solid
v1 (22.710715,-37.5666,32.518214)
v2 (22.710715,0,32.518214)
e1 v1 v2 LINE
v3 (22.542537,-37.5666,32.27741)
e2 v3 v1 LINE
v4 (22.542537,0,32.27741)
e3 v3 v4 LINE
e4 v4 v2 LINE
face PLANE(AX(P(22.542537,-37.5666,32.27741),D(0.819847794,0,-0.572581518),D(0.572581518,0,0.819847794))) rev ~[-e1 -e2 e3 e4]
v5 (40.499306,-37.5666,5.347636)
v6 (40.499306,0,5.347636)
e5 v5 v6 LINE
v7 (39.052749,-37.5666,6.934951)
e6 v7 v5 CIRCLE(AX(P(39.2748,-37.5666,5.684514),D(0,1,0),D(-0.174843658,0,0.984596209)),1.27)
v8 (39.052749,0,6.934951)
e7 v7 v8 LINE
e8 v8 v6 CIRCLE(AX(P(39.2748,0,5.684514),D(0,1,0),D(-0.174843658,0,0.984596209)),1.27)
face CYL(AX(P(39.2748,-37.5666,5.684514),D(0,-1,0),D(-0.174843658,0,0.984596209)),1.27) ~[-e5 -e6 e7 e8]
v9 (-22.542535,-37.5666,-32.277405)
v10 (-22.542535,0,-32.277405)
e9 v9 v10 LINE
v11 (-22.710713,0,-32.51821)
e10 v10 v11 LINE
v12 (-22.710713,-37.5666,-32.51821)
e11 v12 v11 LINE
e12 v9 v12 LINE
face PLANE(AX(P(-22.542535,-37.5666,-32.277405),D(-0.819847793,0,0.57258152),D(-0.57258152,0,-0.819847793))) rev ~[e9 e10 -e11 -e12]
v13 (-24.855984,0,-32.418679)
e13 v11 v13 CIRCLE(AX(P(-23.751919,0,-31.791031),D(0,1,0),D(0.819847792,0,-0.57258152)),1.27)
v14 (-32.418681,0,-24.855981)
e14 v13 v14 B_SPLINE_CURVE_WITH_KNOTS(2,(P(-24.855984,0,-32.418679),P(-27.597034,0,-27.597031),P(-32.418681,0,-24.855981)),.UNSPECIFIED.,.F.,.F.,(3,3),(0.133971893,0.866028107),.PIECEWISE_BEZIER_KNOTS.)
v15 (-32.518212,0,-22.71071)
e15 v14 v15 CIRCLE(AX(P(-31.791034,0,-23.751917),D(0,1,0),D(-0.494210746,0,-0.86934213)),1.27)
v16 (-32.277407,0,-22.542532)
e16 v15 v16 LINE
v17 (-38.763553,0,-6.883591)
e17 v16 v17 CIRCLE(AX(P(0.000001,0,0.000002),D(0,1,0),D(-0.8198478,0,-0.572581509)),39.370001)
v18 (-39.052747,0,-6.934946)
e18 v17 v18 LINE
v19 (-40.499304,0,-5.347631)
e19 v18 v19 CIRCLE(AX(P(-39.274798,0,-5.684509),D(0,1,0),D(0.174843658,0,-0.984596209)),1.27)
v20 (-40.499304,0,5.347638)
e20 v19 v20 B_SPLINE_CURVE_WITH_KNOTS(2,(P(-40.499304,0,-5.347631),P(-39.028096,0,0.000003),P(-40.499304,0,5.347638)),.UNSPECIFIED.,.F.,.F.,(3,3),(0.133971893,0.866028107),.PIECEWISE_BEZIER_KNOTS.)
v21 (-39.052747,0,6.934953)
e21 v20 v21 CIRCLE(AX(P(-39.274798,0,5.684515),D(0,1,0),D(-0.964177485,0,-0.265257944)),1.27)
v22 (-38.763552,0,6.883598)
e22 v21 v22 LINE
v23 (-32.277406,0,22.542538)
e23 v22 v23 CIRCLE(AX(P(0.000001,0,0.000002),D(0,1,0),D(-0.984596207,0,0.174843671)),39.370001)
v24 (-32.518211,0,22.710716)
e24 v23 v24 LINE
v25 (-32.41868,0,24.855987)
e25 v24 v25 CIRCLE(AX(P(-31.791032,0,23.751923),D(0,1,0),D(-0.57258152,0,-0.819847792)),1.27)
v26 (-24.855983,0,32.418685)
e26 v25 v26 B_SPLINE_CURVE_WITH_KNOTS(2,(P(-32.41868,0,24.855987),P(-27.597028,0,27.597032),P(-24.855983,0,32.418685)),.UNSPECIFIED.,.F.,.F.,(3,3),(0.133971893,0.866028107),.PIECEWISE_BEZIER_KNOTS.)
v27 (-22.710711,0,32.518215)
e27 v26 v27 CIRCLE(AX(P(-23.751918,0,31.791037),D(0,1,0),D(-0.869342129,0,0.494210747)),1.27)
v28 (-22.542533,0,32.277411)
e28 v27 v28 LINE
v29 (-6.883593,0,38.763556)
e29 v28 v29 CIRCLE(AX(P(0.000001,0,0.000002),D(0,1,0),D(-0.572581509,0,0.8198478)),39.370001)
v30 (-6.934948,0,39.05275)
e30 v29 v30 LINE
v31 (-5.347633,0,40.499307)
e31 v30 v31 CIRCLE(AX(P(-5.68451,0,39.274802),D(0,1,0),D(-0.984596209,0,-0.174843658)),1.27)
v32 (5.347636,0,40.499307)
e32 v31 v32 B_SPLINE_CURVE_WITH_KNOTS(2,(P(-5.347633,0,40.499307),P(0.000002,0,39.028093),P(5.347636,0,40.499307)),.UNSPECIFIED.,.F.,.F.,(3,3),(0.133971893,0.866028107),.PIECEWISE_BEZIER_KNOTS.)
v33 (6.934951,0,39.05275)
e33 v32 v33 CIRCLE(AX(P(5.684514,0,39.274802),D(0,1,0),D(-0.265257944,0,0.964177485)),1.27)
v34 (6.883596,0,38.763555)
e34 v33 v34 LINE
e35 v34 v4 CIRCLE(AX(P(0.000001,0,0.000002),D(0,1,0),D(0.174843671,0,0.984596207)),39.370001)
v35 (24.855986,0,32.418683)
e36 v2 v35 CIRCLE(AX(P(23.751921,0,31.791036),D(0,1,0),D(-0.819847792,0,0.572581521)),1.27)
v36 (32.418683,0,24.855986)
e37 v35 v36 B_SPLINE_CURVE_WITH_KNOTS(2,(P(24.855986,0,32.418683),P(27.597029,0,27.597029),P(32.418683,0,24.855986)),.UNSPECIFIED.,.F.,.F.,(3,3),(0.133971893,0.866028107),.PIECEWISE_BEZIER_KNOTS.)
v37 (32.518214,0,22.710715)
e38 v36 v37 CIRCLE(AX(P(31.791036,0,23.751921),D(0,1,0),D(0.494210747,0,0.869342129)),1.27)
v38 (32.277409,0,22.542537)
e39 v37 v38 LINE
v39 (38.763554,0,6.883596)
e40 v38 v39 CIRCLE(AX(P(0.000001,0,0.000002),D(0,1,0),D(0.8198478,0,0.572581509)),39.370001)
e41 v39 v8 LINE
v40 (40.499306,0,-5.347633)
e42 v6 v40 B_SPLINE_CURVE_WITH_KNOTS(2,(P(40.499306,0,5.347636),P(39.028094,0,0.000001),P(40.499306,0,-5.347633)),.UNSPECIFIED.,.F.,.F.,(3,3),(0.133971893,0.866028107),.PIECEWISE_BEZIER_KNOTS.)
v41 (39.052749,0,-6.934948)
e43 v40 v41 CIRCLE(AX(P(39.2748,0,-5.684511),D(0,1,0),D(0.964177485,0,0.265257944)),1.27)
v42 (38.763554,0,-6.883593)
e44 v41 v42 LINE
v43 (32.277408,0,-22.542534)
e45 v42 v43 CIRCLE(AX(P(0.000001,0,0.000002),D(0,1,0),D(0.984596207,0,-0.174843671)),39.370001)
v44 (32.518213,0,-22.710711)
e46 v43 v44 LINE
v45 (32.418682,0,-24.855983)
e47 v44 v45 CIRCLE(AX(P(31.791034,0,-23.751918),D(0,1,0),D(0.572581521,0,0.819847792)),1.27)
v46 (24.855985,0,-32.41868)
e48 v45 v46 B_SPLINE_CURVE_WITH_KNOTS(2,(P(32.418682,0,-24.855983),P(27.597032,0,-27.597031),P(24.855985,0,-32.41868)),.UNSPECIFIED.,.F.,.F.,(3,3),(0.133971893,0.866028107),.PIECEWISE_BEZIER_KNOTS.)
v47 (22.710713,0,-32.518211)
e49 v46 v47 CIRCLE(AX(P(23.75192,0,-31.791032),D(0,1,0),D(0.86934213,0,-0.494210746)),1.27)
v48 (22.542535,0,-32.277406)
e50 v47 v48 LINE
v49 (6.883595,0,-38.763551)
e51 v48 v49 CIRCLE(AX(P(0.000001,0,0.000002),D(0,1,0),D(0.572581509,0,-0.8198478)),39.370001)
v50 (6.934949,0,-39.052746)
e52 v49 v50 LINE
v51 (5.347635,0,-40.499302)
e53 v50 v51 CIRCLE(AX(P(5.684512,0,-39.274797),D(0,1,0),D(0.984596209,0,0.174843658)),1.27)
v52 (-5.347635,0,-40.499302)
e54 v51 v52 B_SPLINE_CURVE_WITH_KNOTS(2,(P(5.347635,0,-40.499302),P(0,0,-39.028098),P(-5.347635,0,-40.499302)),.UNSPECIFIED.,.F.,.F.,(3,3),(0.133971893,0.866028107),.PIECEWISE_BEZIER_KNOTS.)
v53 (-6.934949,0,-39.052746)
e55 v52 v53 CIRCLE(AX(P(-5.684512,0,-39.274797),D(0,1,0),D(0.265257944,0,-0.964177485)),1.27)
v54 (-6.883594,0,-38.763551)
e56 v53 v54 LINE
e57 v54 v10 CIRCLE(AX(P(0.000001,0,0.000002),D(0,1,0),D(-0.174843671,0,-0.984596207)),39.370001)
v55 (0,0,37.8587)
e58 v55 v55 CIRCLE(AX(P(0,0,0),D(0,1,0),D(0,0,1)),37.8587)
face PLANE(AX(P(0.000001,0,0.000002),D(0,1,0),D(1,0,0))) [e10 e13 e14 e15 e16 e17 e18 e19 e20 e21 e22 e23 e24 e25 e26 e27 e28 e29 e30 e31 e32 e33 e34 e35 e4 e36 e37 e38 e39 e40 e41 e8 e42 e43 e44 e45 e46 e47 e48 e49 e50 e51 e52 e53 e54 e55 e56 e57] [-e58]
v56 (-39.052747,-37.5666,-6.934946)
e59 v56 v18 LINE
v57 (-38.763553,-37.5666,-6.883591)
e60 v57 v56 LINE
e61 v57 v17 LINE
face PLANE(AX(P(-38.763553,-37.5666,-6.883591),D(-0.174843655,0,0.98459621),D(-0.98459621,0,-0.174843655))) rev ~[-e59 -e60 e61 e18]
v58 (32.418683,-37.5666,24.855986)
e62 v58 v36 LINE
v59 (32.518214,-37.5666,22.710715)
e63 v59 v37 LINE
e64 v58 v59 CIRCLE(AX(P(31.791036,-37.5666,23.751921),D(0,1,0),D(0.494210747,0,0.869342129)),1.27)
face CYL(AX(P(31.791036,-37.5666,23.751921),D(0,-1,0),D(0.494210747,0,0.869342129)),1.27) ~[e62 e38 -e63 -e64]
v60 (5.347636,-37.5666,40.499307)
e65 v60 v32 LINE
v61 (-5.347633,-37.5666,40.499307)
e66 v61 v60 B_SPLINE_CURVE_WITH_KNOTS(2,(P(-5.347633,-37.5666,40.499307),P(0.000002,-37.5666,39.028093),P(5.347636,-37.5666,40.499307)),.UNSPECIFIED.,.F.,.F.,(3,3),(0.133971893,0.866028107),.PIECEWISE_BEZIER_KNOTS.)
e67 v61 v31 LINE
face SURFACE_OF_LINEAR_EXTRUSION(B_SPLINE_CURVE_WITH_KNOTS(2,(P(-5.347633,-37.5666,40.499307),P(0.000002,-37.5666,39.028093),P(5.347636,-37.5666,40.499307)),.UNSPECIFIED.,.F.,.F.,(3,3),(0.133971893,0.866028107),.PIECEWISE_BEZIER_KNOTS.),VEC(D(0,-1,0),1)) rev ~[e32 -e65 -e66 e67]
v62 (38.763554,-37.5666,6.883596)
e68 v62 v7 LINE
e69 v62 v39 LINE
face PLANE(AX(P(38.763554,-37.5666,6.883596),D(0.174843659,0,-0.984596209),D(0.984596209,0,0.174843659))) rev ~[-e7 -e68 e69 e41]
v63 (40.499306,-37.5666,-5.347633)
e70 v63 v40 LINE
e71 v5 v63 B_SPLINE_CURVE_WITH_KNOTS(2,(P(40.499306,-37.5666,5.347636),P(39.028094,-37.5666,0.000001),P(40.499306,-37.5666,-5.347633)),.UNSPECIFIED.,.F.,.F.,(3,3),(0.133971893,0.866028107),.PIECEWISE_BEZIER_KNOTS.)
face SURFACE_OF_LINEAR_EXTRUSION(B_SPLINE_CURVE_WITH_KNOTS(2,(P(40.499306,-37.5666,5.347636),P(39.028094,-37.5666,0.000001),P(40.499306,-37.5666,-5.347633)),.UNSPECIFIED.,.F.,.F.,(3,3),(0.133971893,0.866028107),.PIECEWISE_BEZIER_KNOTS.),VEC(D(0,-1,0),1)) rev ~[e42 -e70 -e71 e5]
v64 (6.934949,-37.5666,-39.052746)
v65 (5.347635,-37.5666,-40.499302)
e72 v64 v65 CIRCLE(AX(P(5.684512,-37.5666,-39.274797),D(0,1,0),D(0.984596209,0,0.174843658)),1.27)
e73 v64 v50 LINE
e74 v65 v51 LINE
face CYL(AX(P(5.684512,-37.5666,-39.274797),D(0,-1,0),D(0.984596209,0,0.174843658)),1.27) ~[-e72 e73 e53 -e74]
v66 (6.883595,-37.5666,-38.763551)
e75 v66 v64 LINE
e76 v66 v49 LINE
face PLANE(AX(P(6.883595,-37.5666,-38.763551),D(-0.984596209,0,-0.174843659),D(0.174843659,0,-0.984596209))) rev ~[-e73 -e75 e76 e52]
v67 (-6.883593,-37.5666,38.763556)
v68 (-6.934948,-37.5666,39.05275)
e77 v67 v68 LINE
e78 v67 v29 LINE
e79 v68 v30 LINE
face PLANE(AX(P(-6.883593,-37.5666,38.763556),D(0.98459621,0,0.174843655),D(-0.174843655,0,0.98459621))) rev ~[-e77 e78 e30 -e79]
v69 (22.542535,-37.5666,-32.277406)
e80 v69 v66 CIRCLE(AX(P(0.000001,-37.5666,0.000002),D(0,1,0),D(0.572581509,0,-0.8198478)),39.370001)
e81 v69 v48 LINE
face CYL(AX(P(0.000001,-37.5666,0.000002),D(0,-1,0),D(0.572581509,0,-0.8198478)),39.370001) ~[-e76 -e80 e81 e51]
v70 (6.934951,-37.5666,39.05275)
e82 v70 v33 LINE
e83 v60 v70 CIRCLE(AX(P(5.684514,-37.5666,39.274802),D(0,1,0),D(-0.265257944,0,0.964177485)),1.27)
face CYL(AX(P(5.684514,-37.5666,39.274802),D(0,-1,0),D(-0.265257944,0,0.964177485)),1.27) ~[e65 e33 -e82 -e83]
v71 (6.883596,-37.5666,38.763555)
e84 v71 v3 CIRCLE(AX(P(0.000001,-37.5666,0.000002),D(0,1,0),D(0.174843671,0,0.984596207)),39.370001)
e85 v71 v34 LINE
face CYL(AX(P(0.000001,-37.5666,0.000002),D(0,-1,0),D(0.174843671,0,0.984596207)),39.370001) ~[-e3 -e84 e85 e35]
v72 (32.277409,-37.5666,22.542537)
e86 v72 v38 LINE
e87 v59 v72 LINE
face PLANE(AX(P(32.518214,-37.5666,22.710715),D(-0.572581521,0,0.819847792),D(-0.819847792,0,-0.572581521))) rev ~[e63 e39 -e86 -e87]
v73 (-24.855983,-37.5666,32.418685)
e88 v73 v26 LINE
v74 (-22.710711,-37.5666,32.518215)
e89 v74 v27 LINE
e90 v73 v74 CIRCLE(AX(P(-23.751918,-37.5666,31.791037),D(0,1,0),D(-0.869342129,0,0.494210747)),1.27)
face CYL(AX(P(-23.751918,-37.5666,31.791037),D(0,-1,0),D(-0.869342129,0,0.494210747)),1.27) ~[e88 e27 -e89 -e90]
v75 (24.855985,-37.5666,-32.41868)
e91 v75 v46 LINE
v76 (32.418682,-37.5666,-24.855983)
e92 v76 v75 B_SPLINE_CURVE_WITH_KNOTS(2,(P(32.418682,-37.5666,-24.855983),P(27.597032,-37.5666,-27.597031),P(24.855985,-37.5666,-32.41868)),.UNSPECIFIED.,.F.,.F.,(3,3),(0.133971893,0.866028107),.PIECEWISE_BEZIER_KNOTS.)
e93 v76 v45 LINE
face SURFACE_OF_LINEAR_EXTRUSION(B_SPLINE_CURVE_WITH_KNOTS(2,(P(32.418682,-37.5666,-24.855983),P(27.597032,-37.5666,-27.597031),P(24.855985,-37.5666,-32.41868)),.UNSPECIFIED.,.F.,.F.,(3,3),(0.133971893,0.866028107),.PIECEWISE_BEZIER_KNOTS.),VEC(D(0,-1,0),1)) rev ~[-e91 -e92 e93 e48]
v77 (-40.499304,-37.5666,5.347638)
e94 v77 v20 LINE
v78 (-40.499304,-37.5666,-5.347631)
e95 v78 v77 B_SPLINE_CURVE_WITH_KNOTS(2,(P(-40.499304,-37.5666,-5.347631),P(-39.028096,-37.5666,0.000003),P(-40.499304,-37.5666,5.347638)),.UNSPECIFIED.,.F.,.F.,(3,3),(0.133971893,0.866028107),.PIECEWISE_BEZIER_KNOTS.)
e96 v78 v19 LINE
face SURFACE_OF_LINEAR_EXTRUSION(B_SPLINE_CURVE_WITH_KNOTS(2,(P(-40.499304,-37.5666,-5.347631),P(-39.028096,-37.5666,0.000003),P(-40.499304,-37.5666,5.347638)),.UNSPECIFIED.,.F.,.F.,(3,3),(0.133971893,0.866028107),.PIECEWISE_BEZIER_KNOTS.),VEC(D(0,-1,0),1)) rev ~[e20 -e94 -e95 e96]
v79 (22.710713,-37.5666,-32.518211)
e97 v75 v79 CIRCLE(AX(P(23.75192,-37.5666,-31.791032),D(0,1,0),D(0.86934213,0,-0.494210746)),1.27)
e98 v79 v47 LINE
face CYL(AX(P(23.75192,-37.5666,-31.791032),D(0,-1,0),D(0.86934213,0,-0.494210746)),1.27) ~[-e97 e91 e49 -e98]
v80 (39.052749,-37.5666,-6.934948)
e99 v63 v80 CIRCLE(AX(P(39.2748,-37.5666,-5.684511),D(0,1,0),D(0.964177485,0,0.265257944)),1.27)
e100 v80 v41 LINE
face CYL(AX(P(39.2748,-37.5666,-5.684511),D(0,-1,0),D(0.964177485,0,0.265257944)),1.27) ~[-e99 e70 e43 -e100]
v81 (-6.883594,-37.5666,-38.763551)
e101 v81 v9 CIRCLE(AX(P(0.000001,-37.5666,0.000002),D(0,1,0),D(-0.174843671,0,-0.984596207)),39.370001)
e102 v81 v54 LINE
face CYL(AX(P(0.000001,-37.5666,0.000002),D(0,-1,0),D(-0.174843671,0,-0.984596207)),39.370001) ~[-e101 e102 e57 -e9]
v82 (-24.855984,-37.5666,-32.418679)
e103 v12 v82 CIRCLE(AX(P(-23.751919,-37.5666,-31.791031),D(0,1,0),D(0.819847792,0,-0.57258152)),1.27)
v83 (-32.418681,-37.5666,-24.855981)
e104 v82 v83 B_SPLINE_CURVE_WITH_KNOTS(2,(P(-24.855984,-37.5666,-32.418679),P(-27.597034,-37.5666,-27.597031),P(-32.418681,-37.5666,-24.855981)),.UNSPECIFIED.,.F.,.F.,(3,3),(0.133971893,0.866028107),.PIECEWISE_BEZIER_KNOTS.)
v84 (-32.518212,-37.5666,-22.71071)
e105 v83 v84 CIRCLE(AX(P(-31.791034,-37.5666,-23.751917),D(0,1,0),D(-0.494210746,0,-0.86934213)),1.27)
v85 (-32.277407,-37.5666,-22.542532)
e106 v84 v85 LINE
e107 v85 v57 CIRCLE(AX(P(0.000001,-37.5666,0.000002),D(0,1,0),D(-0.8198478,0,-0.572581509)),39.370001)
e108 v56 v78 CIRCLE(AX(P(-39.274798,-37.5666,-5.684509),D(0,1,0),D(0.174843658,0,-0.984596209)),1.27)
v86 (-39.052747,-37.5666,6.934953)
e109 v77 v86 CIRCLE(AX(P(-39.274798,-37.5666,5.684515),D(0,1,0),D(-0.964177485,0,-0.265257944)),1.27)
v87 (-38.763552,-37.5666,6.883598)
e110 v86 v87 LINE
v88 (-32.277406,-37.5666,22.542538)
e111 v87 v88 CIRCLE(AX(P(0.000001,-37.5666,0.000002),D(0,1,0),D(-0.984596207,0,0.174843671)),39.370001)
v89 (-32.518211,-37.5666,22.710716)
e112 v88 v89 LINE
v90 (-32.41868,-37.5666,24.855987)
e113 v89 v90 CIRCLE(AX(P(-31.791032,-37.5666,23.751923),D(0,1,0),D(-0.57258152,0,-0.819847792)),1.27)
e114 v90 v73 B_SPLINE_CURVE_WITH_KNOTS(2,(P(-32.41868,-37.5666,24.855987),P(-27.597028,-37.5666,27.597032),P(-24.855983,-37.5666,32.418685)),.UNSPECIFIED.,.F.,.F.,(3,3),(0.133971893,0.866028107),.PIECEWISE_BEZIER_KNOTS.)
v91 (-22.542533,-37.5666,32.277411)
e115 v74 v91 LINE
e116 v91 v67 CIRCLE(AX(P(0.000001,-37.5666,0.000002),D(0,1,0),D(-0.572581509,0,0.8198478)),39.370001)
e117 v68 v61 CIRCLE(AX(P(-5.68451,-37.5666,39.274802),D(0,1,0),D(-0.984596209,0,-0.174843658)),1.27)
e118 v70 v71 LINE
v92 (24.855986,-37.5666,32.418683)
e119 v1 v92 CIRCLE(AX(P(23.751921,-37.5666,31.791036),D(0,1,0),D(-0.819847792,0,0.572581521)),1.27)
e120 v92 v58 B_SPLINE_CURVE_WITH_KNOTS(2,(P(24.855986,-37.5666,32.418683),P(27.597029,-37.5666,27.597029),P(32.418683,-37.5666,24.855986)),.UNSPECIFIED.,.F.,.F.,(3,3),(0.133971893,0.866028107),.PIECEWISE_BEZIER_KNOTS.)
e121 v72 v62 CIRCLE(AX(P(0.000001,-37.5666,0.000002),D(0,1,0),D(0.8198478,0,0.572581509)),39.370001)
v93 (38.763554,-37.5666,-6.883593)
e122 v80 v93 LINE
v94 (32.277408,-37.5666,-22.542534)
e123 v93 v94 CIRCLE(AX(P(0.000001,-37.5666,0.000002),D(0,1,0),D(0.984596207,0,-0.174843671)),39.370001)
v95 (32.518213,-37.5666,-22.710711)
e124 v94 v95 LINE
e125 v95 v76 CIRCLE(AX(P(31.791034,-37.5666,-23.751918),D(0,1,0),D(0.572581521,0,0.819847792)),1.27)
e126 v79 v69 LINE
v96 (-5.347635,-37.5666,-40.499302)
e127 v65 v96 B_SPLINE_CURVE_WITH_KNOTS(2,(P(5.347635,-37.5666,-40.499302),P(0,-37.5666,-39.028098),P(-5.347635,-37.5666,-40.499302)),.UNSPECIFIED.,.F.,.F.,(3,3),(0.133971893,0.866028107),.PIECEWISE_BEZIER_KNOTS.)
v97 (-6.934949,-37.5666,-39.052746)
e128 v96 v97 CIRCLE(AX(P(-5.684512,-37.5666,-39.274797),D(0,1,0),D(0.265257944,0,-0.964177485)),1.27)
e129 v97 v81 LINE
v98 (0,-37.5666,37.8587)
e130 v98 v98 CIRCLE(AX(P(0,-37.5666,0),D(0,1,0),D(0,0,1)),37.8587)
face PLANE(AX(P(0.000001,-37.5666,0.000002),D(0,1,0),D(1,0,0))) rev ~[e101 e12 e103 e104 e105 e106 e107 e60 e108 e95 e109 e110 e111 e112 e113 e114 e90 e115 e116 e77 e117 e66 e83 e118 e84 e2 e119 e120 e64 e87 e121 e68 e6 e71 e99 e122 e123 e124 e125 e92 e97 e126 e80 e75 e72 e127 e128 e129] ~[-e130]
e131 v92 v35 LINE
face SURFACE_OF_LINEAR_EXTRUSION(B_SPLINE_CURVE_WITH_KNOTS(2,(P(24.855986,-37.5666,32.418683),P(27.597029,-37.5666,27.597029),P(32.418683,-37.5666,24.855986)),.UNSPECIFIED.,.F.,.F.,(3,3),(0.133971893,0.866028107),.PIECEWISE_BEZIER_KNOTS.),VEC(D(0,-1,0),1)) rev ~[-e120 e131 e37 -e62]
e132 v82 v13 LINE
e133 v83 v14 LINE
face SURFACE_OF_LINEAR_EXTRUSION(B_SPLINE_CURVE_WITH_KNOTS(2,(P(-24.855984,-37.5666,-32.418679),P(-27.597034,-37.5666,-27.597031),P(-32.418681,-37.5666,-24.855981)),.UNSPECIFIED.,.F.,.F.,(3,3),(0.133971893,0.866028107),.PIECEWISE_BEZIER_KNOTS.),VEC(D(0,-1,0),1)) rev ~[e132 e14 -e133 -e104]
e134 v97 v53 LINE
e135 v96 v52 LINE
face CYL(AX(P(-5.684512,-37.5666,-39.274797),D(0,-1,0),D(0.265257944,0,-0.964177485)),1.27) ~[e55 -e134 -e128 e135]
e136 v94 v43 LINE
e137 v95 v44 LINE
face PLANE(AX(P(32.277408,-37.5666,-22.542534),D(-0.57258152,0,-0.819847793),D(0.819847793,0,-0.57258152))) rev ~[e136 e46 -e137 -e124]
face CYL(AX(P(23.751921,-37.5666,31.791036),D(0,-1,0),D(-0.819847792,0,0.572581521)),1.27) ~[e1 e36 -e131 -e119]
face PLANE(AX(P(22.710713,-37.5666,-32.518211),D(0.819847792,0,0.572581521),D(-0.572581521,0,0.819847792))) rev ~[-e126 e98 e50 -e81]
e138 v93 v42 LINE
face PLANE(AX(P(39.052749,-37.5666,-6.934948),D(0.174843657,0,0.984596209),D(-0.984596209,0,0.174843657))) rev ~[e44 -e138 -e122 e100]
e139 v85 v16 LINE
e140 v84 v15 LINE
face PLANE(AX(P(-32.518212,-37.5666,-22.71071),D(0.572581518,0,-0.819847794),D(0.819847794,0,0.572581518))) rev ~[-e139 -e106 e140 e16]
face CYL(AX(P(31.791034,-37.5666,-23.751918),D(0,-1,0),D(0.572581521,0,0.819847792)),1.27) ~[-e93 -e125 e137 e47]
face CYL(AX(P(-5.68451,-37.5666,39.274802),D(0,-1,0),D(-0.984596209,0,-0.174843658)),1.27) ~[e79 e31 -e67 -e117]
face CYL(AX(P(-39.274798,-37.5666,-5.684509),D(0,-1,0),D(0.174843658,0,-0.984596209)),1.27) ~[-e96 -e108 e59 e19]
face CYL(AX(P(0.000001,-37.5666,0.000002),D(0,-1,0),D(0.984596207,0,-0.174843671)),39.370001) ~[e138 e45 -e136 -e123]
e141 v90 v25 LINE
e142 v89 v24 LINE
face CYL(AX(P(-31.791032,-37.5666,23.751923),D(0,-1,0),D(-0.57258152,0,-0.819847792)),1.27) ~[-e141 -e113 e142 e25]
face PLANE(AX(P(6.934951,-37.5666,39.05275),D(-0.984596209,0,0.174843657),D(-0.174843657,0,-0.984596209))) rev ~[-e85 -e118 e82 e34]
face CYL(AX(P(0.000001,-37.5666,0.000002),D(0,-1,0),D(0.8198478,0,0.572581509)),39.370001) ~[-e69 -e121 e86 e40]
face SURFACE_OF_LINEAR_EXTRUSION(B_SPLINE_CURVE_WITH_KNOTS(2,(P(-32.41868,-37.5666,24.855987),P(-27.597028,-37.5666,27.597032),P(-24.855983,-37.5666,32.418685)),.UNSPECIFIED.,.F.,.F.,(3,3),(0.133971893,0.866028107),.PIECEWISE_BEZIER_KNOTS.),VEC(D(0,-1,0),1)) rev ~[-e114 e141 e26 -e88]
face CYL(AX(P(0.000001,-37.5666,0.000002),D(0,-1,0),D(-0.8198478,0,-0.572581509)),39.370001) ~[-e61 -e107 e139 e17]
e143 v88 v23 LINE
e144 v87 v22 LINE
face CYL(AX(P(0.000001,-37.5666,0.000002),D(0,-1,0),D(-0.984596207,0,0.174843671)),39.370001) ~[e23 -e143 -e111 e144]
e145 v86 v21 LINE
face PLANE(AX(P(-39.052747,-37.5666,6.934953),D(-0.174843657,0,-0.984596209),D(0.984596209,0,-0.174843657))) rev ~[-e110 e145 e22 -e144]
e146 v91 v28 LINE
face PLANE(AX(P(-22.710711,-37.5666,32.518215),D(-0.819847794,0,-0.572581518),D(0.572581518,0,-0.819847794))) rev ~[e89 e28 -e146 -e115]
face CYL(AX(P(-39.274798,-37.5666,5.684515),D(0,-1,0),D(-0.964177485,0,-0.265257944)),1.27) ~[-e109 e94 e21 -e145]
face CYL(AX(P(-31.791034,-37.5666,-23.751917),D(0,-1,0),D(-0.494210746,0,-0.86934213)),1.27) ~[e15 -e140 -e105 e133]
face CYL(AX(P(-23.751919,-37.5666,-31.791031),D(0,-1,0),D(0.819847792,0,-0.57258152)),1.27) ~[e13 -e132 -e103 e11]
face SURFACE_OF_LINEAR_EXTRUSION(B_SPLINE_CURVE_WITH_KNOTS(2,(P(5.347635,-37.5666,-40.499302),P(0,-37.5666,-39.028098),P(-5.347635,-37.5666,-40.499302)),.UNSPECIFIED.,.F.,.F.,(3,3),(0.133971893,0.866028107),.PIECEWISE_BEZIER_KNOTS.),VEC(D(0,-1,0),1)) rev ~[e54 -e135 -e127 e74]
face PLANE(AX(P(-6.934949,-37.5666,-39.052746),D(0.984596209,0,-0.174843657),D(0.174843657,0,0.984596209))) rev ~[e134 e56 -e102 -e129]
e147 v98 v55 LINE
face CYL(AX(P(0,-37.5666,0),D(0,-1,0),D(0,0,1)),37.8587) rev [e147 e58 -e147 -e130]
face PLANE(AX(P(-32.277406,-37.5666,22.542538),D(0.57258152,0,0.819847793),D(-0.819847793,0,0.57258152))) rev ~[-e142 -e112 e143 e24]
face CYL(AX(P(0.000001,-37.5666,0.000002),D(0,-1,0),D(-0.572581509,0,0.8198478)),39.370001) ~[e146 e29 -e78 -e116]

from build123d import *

# Parameters (mm, degrees)
SKETCH3_R           = 37.8587
BOSS_EXTRUDE1_DEPTH = 37.5666


with BuildPart() as part:
    # Sketch3 → Boss-Extrude1 (new body)
    with BuildSketch(Plane(origin=(0, -37.5666, 0), x_dir=(1, 0, 0), z_dir=(0, 1, 0))):
        with BuildLine():
            Line((22.710713351, 32.518210948), (22.542535263, 32.277406051))
            ThreePointArc((22.542535263, 32.277406051), (15.06624702, 36.373135768), (6.883594535, 38.763551242))
            Line((6.883594535, 38.763551242), (6.934949387, 39.052745559))
            ThreePointArc((6.934949387, 39.052745559), (6.539953295, 40.213477214), (5.347634612, 40.499302411))
            add(Edge.make_bspline(
                [(5.347634612, 40.499302411), (0, 39.028097589), (-5.347634612, 40.499302411)],
                knots=[0.133971893, 0.133971893, 0.133971893, 0.866028107, 0.866028107, 0.866028107], degree=2))
            ThreePointArc((-5.347634612, 40.499302411), (-6.539953295, 40.213477214), (-6.934949387, 39.052745559))
            Line((-6.934949387, 39.052745559), (-6.883594478, 38.763550918))
            ThreePointArc((-6.883594478, 38.763550918), (-15.06624685, 36.373135059), (-22.542534901, 32.277404991))
            Line((-22.542534901, 32.277404991), (-22.7107128, 32.518209618))
            ThreePointArc((-22.7107128, 32.518209618), (-23.810778439, 33.059666427), (-24.855984001, 32.418678735))
            add(Edge.make_bspline(
                [(-24.855984001, 32.418678735), (-27.597033743, 27.597031182), (-32.418681395, 24.855981341)],
                knots=[0.133971893, 0.133971893, 0.133971893, 0.866028107, 0.866028107, 0.866028107], degree=2))
            ThreePointArc((-32.418681395, 24.855981341), (-33.059669087, 23.810775779), (-32.518212278, 22.71071014))
            Line((-32.518212278, 22.71071014), (-32.277407381, 22.542532053))
            ThreePointArc((-32.277407381, 22.542532053), (-36.373137098, 15.066243809), (-38.763552571, 6.883591325))
            Line((-38.763552571, 6.883591325), (-39.052746889, 6.934946176))
            ThreePointArc((-39.052746889, 6.934946176), (-40.213478544, 6.539950084), (-40.499303741, 5.347631401))
            add(Edge.make_bspline(
                [(-40.499303741, 5.347631401), (-39.028096259, -3.092e-06), (-40.499303741, -5.347637823)],
                knots=[0.133971893, 0.133971893, 0.133971893, 0.866028107, 0.866028107, 0.866028107], degree=2))
            ThreePointArc((-40.499303741, -5.347637823), (-40.213478544, -6.539956506), (-39.052746889, -6.934952598))
            Line((-39.052746889, -6.934952598), (-38.763552248, -6.883597689))
            ThreePointArc((-38.763552248, -6.883597689), (-36.373136389, -15.066250061), (-32.277406321, -22.542538112))
            Line((-32.277406321, -22.542538112), (-32.518210948, -22.710716011))
            ThreePointArc((-32.518210948, -22.710716011), (-33.059667757, -23.81078165), (-32.418680065, -24.855987212))
            add(Edge.make_bspline(
                [(-32.418680065, -24.855987212), (-27.597028006, -27.597032378), (-24.855982671, -32.418684606)],
                knots=[0.133971893, 0.133971893, 0.133971893, 0.866028107, 0.866028107, 0.866028107], degree=2))
            ThreePointArc((-24.855982671, -32.418684606), (-23.810777109, -33.059672297), (-22.71071147, -32.518215489))
            Line((-22.71071147, -32.518215489), (-22.542533383, -32.277410592))
            ThreePointArc((-22.542533383, -32.277410592), (-15.066245139, -36.373140308), (-6.883592655, -38.763555782))
            Line((-6.883592655, -38.763555782), (-6.934947506, -39.0527501))
            ThreePointArc((-6.934947506, -39.0527501), (-6.539951414, -40.213481755), (-5.347632731, -40.499306952))
            add(Edge.make_bspline(
                [(-5.347632731, -40.499306952), (1.811e-06, -39.028093048), (5.347636493, -40.499306952)],
                knots=[0.133971893, 0.133971893, 0.133971893, 0.866028107, 0.866028107, 0.866028107], degree=2))
            ThreePointArc((5.347636493, -40.499306952), (6.539955176, -40.213481755), (6.934951268, -39.0527501))
            Line((6.934951268, -39.0527501), (6.883596359, -38.763555459))
            ThreePointArc((6.883596359, -38.763555459), (15.066248731, -36.3731396), (22.542536782, -32.277409531))
            Line((22.542536782, -32.277409531), (22.710714681, -32.518214159))
            ThreePointArc((22.710714681, -32.518214159), (23.81078032, -33.059670967), (24.855985882, -32.418683276))
            add(Edge.make_bspline(
                [(24.855985882, -32.418683276), (27.597029251, -27.597029251), (32.418683276, -24.855985882)],
                knots=[0.133971893, 0.133971893, 0.133971893, 0.866028107, 0.866028107, 0.866028107], degree=2))
            ThreePointArc((32.418683276, -24.855985882), (33.059670967, -23.81078032), (32.518214159, -22.710714681))
            Line((32.518214159, -22.710714681), (32.277409262, -22.542536593))
            ThreePointArc((32.277409262, -22.542536593), (36.373138978, -15.06624835), (38.763554452, -6.883595865))
            Line((38.763554452, -6.883595865), (39.05274877, -6.934950717))
            ThreePointArc((39.05274877, -6.934950717), (40.213480425, -6.539954625), (40.499305622, -5.347635942))
            add(Edge.make_bspline(
                [(40.499305622, -5.347635942), (39.028094378, -1.281e-06), (40.499305622, 5.347633282)],
                knots=[0.133971893, 0.133971893, 0.133971893, 0.866028107, 0.866028107, 0.866028107], degree=2))
            ThreePointArc((40.499305622, 5.347633282), (40.213480425, 6.539951965), (39.05274877, 6.934948057))
            Line((39.05274877, 6.934948057), (38.763554129, 6.883593148))
            ThreePointArc((38.763554129, 6.883593148), (36.37313827, 15.06624552), (32.277408202, 22.542533571))
            Line((32.277408202, 22.542533571), (32.518212829, 22.71071147))
            ThreePointArc((32.518212829, 22.71071147), (33.059669637, 23.810777109), (32.418681946, 24.855982671))
            add(Edge.make_bspline(
                [(32.418681946, 24.855982671), (27.597032427, 27.597030616), (24.855984552, 32.418680065)],
                knots=[0.133971893, 0.133971893, 0.133971893, 0.866028107, 0.866028107, 0.866028107], degree=2))
            ThreePointArc((24.855984552, 32.418680065), (23.81077899, 33.059667757), (22.710713351, 32.518210948))
        make_face()
        with Locations(Location((0, 0, 0), (0, 0, 270))):
            Circle(SKETCH3_R, mode=Mode.SUBTRACT)
    extrude(amount=BOSS_EXTRUDE1_DEPTH)


solid = part.part
